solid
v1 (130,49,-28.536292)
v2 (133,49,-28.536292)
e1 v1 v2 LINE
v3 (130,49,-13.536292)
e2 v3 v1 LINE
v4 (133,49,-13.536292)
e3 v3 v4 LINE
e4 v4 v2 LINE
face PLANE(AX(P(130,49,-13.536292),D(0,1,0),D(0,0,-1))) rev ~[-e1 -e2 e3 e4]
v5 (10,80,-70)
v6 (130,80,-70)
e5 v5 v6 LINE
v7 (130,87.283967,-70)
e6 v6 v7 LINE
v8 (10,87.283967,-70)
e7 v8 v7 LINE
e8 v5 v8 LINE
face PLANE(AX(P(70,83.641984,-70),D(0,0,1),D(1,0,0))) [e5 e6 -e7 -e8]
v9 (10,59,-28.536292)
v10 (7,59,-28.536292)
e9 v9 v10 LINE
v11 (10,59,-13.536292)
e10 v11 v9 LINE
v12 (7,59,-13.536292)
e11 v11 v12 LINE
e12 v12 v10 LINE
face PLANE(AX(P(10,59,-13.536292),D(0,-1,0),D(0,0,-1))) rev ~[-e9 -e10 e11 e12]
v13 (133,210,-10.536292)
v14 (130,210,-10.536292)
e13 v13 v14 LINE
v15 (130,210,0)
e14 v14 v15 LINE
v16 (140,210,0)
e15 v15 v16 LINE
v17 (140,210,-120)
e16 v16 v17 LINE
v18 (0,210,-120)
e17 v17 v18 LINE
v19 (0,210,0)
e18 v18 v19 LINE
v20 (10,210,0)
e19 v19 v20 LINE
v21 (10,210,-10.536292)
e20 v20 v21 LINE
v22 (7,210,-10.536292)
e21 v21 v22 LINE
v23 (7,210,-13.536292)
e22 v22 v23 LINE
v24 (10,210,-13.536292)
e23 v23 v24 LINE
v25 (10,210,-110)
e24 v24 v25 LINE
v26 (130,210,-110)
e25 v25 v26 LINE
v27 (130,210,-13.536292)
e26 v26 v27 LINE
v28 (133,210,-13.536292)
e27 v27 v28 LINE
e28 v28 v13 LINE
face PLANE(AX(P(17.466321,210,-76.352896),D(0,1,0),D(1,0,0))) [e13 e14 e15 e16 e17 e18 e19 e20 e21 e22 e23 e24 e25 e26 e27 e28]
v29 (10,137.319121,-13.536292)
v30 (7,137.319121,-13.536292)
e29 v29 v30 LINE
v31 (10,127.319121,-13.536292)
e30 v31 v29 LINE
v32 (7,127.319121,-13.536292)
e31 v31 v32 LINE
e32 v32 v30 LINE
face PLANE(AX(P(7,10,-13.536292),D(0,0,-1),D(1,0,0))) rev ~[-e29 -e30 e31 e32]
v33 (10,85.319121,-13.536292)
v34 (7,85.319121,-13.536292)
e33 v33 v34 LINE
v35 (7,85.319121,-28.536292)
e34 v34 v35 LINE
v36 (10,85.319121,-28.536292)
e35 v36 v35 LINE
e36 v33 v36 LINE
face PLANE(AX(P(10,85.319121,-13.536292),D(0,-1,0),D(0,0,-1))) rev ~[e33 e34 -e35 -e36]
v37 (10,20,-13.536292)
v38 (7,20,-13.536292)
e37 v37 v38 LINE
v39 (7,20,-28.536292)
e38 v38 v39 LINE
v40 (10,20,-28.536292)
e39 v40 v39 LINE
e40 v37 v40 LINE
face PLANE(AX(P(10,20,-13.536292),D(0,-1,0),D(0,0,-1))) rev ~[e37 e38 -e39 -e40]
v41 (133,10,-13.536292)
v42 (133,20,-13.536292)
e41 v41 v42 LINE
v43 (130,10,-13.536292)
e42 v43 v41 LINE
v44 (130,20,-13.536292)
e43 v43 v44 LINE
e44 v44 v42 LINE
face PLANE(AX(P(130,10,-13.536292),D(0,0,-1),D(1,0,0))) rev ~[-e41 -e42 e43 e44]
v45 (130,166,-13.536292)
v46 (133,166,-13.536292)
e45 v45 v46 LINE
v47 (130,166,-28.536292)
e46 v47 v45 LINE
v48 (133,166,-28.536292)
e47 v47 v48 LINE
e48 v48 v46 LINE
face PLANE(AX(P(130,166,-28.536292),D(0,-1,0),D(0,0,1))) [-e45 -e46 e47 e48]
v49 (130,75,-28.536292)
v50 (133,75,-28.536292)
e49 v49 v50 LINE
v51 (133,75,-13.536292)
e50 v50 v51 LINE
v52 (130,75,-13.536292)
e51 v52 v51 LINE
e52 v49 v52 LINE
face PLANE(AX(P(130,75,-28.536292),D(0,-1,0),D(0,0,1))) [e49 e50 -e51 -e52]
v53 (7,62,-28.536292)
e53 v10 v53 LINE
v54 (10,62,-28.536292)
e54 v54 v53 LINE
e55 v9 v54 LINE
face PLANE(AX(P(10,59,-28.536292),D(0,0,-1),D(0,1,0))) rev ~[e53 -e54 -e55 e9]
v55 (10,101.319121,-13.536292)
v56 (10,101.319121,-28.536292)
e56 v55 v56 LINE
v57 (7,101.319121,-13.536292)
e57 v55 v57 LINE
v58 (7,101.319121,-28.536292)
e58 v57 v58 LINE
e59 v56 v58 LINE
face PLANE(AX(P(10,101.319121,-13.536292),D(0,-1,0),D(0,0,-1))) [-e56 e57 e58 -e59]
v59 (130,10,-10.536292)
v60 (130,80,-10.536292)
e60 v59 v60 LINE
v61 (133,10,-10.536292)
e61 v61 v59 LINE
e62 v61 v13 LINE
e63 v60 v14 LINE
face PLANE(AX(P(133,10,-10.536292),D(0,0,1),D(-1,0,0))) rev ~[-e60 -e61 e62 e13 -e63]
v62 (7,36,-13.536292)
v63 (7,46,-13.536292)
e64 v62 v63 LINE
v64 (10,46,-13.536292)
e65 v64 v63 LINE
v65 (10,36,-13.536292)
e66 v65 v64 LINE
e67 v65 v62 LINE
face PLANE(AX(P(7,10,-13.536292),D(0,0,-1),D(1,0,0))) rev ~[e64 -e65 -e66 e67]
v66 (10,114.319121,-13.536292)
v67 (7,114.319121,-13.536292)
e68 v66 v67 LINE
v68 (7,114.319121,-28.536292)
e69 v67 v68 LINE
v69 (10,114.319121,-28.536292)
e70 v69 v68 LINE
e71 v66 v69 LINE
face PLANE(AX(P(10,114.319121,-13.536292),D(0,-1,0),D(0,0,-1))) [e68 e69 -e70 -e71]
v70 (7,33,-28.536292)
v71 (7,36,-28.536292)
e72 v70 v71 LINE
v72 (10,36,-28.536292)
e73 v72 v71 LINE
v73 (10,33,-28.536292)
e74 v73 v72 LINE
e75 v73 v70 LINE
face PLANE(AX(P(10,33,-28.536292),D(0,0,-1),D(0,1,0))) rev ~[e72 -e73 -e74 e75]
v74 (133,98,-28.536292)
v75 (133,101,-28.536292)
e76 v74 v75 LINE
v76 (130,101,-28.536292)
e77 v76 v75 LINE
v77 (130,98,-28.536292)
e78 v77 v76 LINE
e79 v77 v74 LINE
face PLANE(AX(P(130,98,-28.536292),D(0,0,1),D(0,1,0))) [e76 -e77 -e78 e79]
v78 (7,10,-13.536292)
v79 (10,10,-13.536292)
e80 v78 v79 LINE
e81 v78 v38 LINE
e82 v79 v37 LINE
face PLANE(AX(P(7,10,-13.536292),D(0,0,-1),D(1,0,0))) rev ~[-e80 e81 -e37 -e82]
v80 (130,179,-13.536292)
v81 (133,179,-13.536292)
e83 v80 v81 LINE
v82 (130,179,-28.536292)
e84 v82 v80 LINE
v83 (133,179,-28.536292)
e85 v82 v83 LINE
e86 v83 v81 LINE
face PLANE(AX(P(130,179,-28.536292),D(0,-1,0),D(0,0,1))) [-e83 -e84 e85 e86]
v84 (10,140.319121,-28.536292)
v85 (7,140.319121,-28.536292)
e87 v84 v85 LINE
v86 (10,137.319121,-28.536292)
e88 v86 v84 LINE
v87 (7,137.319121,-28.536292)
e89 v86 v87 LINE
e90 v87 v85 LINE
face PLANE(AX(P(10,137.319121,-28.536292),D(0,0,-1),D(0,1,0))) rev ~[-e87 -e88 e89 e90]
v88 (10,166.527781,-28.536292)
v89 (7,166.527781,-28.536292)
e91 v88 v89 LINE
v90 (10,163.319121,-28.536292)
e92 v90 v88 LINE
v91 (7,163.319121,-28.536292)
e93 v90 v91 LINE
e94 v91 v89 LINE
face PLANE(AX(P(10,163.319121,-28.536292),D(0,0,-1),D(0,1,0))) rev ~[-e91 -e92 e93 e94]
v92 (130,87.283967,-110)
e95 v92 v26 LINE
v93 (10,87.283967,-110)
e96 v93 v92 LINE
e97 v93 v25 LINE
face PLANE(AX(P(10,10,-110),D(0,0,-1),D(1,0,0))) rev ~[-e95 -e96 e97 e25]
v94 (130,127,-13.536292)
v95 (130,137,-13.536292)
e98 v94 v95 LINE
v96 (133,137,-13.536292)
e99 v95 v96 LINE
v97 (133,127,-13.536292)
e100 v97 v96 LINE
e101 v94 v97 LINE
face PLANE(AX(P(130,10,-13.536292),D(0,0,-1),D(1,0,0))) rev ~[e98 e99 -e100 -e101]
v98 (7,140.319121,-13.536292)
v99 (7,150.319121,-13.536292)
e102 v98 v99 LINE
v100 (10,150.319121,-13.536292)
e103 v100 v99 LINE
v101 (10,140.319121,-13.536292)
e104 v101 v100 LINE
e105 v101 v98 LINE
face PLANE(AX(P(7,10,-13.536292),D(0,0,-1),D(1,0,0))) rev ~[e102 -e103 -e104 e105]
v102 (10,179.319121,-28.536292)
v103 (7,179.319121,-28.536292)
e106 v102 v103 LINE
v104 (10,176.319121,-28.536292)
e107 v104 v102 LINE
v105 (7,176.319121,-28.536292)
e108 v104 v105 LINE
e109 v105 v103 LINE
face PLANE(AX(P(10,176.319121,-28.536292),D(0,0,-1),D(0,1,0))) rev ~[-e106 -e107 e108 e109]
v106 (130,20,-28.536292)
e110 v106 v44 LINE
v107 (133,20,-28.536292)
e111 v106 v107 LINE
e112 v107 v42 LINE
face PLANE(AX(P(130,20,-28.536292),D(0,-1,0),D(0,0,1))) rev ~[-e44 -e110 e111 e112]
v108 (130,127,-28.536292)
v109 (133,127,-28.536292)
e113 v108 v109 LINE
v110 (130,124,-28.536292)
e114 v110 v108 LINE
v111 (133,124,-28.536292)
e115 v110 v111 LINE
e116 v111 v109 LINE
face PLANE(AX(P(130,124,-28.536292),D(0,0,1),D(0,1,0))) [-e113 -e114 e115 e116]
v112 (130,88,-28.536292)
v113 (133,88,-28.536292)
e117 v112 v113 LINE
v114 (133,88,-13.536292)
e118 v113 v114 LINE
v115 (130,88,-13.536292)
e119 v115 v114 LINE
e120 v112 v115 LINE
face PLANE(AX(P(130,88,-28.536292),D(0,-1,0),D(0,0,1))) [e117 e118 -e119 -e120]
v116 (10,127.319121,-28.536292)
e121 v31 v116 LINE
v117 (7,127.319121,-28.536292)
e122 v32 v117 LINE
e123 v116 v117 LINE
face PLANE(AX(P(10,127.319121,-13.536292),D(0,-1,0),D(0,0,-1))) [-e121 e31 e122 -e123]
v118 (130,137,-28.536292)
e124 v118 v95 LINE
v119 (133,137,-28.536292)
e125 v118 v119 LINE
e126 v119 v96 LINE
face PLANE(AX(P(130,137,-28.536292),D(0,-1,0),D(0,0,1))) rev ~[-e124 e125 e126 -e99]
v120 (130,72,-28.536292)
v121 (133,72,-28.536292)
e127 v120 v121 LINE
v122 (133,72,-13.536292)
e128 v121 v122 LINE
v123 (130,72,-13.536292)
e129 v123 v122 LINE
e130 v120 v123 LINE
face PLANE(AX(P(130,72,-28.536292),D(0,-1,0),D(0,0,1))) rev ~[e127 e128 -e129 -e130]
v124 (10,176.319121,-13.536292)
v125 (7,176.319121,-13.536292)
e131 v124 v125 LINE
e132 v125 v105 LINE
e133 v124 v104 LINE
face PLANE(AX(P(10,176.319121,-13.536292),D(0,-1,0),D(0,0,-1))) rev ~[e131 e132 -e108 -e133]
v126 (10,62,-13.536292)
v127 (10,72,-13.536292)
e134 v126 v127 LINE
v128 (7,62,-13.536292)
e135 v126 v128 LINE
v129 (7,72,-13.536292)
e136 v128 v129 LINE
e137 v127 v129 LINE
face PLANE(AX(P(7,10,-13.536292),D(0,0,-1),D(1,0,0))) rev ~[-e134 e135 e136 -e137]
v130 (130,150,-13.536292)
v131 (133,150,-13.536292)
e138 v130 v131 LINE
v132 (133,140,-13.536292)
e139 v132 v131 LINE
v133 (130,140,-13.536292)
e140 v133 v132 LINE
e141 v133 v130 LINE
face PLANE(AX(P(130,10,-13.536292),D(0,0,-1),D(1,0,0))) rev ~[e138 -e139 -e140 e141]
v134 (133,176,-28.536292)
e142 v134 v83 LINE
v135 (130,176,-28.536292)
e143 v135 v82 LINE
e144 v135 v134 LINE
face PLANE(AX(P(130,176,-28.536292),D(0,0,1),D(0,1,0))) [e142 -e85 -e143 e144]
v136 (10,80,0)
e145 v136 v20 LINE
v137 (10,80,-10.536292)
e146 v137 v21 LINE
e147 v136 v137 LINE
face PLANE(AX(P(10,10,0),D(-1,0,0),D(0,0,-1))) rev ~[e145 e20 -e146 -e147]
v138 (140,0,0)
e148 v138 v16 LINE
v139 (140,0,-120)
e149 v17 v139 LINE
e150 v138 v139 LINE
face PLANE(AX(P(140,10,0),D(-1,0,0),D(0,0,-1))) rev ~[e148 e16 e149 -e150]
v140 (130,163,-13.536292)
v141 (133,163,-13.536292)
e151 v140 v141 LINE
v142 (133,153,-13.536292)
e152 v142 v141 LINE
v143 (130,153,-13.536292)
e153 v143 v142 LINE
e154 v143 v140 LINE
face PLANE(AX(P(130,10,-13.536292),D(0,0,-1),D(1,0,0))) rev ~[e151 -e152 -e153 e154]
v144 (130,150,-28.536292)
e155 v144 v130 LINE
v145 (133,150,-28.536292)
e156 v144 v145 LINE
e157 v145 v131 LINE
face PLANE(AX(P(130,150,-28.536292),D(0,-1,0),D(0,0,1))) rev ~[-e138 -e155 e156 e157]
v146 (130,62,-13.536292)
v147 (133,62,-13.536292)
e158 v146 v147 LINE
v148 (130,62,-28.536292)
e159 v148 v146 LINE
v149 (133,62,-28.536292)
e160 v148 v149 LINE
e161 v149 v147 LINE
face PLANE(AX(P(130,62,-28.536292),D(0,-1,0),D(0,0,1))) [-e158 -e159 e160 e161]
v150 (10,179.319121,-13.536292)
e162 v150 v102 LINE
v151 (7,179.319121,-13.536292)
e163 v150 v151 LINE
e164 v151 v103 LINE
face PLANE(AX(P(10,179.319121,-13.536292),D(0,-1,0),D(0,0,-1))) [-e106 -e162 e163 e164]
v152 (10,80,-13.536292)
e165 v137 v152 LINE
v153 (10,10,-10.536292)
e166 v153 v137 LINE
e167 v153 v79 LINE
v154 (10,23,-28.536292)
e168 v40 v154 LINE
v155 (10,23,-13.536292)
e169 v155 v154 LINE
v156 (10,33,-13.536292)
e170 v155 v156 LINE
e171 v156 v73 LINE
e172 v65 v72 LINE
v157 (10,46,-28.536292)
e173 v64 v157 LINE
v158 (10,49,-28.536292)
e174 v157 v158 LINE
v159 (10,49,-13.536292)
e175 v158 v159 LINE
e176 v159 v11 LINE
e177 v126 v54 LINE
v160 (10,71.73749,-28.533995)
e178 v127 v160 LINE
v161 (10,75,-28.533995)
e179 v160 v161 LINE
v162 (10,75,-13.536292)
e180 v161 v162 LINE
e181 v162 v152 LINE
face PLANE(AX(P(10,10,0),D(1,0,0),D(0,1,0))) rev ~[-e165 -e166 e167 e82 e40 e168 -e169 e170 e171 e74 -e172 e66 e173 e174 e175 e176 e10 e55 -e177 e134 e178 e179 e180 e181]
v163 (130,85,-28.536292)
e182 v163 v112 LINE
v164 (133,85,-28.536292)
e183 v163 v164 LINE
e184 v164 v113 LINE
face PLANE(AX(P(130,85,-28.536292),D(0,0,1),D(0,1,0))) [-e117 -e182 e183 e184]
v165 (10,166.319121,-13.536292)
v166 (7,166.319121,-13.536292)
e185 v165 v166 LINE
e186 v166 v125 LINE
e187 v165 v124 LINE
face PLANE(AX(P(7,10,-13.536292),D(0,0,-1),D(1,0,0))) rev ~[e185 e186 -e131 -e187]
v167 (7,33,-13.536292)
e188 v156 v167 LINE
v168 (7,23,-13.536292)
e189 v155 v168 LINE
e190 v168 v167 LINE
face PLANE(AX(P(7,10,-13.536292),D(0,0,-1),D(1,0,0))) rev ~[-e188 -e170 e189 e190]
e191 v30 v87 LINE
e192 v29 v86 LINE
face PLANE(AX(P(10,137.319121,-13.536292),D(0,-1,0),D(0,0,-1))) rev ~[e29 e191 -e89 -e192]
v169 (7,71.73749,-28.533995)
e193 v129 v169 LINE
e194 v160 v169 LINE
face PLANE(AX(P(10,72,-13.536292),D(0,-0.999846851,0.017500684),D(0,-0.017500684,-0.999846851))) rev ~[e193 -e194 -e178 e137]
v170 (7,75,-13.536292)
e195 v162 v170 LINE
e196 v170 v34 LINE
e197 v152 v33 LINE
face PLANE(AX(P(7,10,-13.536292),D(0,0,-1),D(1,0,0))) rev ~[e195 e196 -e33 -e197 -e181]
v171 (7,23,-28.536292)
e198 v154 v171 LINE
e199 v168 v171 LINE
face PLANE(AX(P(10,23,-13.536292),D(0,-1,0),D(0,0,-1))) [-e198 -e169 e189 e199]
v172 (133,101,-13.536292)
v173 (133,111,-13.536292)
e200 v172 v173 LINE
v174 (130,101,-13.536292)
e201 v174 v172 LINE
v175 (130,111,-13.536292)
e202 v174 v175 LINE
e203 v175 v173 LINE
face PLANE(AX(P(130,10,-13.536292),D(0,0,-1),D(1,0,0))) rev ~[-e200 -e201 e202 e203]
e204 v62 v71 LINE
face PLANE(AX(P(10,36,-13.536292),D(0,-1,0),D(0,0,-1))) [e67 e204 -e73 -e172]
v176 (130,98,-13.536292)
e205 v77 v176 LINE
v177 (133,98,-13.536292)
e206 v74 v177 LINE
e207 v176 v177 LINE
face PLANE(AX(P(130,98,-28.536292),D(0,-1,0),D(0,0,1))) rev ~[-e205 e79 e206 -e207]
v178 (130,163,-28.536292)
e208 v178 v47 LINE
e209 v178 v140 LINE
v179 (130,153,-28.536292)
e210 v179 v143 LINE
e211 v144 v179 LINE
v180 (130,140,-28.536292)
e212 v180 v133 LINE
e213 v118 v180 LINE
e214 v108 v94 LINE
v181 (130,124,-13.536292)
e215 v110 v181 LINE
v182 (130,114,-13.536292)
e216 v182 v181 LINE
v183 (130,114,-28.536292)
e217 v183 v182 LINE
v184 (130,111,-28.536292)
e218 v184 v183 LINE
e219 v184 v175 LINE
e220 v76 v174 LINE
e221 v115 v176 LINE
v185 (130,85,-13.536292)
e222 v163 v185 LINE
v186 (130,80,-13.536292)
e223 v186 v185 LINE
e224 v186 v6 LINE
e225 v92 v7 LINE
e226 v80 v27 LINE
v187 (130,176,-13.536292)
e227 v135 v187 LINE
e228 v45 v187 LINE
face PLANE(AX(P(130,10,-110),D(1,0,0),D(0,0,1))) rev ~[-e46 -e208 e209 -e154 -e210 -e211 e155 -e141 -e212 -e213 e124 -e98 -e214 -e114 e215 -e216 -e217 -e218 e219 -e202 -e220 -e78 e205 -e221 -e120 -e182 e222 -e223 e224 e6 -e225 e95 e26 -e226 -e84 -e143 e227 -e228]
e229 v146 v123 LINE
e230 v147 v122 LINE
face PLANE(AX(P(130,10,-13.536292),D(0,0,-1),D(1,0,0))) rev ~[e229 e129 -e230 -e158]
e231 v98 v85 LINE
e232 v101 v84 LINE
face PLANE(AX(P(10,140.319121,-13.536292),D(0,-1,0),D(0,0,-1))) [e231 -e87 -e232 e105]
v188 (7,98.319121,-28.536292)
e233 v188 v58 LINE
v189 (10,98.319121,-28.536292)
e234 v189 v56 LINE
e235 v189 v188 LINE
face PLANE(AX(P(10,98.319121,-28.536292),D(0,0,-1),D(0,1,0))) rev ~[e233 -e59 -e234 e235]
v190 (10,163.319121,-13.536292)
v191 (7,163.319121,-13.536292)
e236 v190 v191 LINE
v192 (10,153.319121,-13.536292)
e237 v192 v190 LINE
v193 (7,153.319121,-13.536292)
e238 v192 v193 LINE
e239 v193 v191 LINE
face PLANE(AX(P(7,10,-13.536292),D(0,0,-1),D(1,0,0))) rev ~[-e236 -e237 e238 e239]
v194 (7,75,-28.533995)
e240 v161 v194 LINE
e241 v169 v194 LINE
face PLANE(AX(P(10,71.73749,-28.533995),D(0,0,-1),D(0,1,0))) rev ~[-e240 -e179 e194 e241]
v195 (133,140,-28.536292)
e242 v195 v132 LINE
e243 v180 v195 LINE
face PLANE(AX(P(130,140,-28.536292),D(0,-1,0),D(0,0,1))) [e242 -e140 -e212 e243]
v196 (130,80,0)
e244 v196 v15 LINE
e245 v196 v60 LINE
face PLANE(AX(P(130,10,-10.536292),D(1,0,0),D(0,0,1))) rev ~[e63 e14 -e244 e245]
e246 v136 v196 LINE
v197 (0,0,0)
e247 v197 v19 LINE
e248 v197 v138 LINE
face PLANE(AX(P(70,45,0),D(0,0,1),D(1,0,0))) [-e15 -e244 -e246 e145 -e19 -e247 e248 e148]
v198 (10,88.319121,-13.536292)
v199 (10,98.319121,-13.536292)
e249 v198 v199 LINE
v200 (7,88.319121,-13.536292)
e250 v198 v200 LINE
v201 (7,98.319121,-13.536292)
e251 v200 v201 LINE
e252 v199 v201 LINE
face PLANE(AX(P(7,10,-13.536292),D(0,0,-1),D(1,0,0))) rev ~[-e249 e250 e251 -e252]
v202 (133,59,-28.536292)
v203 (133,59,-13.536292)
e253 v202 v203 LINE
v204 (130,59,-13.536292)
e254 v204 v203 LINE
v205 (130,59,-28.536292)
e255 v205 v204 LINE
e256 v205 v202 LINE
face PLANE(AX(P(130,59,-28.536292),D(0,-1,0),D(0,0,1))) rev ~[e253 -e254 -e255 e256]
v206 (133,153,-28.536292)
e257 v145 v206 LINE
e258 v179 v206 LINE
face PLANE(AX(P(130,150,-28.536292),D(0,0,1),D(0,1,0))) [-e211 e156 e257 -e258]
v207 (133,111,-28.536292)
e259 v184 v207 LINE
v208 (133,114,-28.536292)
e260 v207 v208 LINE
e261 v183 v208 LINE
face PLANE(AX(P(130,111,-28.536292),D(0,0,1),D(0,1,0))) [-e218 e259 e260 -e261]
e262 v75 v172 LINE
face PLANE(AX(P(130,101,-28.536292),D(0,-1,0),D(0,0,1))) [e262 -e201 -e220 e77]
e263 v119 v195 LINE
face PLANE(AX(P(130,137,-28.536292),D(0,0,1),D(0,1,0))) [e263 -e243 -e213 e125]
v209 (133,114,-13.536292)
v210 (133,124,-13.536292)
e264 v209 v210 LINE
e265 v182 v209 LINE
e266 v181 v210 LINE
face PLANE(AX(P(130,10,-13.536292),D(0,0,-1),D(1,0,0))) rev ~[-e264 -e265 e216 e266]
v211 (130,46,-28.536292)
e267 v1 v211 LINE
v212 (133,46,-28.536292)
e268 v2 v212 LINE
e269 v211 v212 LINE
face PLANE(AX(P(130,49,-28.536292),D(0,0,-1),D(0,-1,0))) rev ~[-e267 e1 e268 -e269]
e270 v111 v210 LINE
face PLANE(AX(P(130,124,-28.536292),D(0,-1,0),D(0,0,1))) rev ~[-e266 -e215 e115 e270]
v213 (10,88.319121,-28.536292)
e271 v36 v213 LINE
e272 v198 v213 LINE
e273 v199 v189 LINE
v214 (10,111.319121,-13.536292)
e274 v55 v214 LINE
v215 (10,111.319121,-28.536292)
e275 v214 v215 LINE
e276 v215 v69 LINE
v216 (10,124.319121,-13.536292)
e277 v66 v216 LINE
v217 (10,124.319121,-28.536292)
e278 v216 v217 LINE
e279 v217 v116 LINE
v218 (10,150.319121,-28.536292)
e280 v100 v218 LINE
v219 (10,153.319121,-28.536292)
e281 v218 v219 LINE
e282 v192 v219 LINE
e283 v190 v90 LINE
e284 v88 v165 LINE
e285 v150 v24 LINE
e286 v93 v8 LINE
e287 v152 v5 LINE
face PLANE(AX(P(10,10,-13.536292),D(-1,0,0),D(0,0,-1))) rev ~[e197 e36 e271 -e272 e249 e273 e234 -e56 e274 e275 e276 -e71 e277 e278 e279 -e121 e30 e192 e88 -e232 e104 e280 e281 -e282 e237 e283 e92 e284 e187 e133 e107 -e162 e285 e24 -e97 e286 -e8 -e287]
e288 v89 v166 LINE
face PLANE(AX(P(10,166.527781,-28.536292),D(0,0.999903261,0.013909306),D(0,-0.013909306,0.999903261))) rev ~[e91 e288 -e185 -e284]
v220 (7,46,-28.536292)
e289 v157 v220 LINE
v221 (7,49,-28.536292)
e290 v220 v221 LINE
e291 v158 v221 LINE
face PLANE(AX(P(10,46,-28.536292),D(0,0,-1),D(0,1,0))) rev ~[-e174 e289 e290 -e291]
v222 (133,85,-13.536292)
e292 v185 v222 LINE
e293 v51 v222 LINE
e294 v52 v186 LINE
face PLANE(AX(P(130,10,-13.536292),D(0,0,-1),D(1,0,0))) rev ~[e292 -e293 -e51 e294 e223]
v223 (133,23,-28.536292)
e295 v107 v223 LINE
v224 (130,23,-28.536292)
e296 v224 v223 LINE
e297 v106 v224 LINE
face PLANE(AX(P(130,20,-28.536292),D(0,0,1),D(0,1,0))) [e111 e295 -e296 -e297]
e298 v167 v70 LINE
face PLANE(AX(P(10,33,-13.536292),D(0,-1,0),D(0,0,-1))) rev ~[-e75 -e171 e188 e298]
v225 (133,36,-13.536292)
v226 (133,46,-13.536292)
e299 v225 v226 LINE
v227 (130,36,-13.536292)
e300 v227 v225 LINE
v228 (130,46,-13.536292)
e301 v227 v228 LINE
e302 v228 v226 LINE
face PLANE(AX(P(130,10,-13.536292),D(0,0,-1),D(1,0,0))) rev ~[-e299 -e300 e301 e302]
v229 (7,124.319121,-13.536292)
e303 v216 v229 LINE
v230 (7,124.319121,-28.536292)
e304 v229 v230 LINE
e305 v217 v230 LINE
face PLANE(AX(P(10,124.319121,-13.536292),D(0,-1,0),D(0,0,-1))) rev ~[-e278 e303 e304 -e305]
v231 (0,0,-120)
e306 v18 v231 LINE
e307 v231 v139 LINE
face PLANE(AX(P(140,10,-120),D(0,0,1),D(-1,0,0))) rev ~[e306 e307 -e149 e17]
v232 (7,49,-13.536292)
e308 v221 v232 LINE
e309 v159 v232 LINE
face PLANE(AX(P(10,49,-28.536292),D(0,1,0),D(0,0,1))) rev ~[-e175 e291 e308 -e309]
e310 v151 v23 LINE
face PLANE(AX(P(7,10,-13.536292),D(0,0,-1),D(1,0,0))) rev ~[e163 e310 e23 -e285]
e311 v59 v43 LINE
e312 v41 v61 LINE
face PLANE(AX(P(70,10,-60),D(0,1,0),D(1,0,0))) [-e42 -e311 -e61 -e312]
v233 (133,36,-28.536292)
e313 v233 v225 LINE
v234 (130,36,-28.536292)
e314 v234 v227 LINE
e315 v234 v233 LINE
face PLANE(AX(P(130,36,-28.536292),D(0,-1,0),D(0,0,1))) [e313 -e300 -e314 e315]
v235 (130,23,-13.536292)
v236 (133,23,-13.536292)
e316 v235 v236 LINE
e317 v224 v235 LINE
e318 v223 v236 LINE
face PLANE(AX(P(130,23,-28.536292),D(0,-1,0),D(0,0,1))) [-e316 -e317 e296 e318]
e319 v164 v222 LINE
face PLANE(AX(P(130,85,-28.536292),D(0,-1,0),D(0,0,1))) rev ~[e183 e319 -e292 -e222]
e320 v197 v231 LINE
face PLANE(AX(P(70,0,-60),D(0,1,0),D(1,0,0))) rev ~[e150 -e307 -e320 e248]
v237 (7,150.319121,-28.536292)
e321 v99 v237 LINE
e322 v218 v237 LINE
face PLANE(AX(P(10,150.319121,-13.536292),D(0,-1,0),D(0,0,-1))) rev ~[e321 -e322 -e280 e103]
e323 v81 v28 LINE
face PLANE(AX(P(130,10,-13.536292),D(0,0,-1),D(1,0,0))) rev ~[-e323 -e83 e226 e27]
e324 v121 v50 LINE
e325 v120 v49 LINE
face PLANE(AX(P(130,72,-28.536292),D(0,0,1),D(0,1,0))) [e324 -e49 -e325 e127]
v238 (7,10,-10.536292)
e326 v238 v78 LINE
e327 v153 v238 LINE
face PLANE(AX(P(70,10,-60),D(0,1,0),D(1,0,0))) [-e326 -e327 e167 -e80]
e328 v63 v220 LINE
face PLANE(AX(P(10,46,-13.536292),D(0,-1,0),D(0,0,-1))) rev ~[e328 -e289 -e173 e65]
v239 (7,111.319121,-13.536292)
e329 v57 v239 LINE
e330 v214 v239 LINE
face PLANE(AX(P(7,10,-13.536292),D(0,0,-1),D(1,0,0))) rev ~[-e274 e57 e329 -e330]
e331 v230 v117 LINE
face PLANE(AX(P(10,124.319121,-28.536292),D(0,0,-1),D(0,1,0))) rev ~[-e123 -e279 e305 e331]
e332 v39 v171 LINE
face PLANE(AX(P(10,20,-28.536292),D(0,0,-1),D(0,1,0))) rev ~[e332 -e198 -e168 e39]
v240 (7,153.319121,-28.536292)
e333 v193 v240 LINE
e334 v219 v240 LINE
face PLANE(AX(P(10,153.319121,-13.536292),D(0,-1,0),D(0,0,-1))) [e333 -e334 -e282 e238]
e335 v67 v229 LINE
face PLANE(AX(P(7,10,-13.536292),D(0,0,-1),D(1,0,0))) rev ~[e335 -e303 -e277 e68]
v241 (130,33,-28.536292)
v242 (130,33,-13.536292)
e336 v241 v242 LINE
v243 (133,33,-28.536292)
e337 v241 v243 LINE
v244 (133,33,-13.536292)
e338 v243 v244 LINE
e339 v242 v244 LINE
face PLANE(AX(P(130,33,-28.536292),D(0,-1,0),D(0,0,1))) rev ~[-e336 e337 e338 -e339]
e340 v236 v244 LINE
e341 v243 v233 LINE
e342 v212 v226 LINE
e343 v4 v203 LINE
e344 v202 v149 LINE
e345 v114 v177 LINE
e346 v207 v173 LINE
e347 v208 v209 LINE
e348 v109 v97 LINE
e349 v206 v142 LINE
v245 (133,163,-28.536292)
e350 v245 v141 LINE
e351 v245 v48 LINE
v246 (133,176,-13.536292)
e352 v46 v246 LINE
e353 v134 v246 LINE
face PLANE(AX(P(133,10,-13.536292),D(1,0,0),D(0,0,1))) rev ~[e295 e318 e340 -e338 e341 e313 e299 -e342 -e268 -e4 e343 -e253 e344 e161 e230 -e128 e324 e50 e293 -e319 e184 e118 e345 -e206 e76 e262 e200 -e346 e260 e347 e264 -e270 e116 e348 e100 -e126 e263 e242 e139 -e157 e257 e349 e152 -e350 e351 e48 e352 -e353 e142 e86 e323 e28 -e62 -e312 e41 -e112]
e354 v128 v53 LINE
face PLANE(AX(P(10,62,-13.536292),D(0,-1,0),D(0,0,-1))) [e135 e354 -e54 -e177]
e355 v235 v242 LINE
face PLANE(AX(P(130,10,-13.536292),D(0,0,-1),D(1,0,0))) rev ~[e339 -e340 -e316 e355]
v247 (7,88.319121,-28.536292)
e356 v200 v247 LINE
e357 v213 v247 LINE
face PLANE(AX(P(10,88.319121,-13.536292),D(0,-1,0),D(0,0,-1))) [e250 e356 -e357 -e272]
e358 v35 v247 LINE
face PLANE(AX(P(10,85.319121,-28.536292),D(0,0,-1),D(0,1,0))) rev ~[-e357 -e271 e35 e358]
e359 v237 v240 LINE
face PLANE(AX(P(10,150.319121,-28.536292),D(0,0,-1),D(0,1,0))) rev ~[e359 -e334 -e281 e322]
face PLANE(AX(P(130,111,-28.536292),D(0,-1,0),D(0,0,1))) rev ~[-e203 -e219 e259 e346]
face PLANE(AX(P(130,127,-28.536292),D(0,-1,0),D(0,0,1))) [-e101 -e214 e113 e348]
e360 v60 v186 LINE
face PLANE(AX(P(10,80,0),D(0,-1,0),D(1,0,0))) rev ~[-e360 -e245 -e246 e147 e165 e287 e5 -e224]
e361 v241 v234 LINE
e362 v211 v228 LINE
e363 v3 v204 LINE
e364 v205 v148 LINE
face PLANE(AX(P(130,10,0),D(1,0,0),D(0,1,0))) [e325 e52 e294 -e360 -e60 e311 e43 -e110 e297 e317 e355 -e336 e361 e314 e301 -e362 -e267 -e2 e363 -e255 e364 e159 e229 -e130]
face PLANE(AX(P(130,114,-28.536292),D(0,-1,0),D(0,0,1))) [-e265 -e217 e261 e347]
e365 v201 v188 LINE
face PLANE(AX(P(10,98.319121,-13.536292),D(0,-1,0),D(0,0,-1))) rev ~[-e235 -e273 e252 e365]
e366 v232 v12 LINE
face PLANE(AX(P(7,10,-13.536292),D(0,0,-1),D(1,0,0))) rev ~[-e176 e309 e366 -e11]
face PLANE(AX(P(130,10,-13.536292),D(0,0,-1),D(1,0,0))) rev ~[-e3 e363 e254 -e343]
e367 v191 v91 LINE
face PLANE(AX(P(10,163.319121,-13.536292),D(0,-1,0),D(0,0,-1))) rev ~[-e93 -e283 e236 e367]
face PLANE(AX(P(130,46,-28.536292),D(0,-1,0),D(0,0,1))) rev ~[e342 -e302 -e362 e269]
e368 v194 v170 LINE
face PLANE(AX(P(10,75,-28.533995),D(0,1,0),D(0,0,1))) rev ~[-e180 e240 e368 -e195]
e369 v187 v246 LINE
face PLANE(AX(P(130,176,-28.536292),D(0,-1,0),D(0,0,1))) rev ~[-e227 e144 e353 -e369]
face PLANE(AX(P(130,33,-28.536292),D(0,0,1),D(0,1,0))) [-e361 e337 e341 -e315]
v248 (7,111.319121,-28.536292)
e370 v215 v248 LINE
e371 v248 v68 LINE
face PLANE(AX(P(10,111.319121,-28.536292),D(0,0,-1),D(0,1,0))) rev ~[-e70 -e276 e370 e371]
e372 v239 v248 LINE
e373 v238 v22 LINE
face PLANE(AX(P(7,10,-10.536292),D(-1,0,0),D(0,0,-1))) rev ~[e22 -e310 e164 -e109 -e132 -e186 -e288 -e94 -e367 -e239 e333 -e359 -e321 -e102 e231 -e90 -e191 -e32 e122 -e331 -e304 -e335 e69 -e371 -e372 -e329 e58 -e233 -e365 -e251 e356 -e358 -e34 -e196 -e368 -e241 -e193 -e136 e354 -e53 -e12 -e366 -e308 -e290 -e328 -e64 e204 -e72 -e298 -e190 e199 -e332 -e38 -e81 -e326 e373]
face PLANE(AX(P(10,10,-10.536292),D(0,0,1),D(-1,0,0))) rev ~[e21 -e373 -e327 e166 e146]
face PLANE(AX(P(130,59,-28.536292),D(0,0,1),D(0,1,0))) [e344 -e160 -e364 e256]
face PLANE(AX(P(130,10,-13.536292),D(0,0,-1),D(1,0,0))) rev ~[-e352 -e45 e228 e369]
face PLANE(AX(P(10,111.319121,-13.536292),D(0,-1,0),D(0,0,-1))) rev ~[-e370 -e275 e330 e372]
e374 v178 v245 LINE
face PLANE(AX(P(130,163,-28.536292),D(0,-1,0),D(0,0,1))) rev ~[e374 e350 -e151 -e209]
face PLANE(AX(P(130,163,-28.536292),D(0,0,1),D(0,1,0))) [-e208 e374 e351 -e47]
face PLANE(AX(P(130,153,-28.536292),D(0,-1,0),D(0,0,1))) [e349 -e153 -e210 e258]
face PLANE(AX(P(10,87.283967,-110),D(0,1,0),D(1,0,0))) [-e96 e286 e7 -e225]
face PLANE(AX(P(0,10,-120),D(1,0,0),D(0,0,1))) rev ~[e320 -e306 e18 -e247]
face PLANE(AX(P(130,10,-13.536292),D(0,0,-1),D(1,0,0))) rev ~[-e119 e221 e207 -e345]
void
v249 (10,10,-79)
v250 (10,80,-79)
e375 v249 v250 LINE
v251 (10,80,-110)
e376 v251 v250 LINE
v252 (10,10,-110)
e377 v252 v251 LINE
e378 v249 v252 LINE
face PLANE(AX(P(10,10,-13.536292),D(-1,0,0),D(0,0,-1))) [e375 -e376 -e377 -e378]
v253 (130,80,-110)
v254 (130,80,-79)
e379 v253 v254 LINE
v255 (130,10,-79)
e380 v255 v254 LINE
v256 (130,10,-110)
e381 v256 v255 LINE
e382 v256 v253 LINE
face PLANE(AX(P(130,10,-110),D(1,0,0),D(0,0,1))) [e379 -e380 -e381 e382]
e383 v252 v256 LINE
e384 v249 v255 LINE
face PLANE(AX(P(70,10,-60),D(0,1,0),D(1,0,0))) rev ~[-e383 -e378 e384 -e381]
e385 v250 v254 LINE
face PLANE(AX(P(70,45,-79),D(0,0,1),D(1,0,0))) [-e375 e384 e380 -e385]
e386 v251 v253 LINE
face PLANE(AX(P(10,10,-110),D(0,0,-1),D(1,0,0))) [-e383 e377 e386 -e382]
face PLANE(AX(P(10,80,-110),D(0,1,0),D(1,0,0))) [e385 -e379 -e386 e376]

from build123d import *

# Parameters (mm, degrees)
SKETCH1_W           = 140
SKETCH1_H           = 120
BOSS_EXTRUDE1_DEPTH = 10
BOSS_EXTRUDE2_DEPTH = 200
SKETCH3_W           = 15
SKETCH3_H           = 3
CUT_EXTRUDE1_DEPTH  = 3
SKETCH4_W           = 15
SKETCH4_H           = 3
CUT_EXTRUDE2_DEPTH  = 3
SKETCH5_W           = 120
SKETCH5_H           = 7.283967232
BOSS_EXTRUDE3_DEPTH = 40
SKETCH6_W           = 120
SKETCH6_H           = 70
BOSS_EXTRUDE4_DEPTH = 79


with BuildPart() as part:
    # Sketch1 → Boss-Extrude1 (new body)
    with BuildSketch(Plane(origin=(0, 0, 0), x_dir=(1, 0, 0), z_dir=(0, 1, 0))):
        with Locations((70, 60)):
            Rectangle(SKETCH1_W, SKETCH1_H)
    extrude(amount=BOSS_EXTRUDE1_DEPTH)

    # Sketch2 → Boss-Extrude2 (add)
    with BuildSketch(Plane(origin=(0, 10, 0), x_dir=(1, 0, 0), z_dir=(0, 1, 0))):
        Polygon((0, 120), (0, 0), (10, 0), (10, 10.536291888), (7, 10.536291888), (7, 13.536291888), (10, 13.536291888), (10, 110), (70, 110), (70, 120), align=None)
        Polygon((130, 10.536291888), (130, 0), (140, 0), (140, 120), (70, 120), (70, 110), (130, 110), (130, 13.536291888), (133, 13.536291888), (133, 10.536291888), align=None)
    extrude(amount=BOSS_EXTRUDE2_DEPTH)

    # Sketch3 → Cut-Extrude1 (cut)
    with BuildSketch(Plane(origin=(10, 0, 0), x_dir=(0, 0, -1), z_dir=(1, 0, 0))):
        with Locations((21.036291888, 177.819120876)):
            Rectangle(SKETCH3_W, SKETCH3_H)
        Polygon((13.536291888, 166.319120876), (13.536291888, 163.319120876), (28.536291888, 163.319120876), (28.536291888, 166.527780645), align=None)
        with Locations((21.036291888, 151.819120876)):
            Rectangle(SKETCH3_W, SKETCH3_H)
        with Locations((21.036291888, 138.819120876)):
            Rectangle(SKETCH3_W, SKETCH3_H)
        with Locations((21.036291888, 125.819120876)):
            Rectangle(SKETCH3_W, SKETCH3_H)
        with Locations((21.036291888, 112.819120876)):
            Rectangle(SKETCH3_W, SKETCH3_H)
        with Locations((21.036291888, 99.819120876)):
            Rectangle(SKETCH3_W, SKETCH3_H)
        with Locations((21.036291888, 86.819120876)):
            Rectangle(SKETCH3_W, SKETCH3_H)
        Polygon((13.536291888, 75), (13.536291888, 72), (28.533994657, 71.737489743), (28.533994657, 75), align=None)
        with Locations((21.036291888, 60.5)):
            Rectangle(SKETCH3_W, SKETCH3_H)
        Polygon((13.536291888, 49), (13.536291888, 46), (28.536291888, 46), (28.536291888, 49), (13.757115753, 49), align=None)
        with Locations((21.036291888, 34.5)):
            Rectangle(SKETCH3_W, SKETCH3_H)
        with Locations((21.036291888, 21.5)):
            Rectangle(SKETCH3_W, SKETCH3_H)
    extrude(amount=-CUT_EXTRUDE1_DEPTH, mode=Mode.SUBTRACT)

    # Sketch4 → Cut-Extrude2 (cut)
    with BuildSketch(Plane.ZY.offset(-130)):
        with Locations((-21.036291888, 21.5)):
            Rectangle(SKETCH4_W, SKETCH4_H)
        with Locations((-21.036291888, 34.5)):
            Rectangle(SKETCH4_W, SKETCH4_H)
        Polygon((-18.143826221, 46), (-13.536291888, 46), (-13.536291888, 49), (-28.536291888, 49), (-28.536291888, 46), align=None)
        with Locations((-21.036291888, 60.5)):
            Rectangle(SKETCH4_W, SKETCH4_H)
        with Locations((-21.036291888, 73.5)):
            Rectangle(SKETCH4_W, SKETCH4_H)
        with Locations((-21.036291888, 86.5)):
            Rectangle(SKETCH4_W, SKETCH4_H)
        with Locations((-21.036291888, 99.5)):
            Rectangle(SKETCH4_W, SKETCH4_H)
        with Locations((-21.036291888, 112.5)):
            Rectangle(SKETCH4_W, SKETCH4_H)
        with Locations((-21.036291888, 125.5)):
            Rectangle(SKETCH4_W, SKETCH4_H)
        with Locations((-21.036291888, 138.5)):
            Rectangle(SKETCH4_W, SKETCH4_H)
        with Locations((-21.036291888, 151.5)):
            Rectangle(SKETCH4_W, SKETCH4_H)
        with Locations((-21.036291888, 164.5)):
            Rectangle(SKETCH4_W, SKETCH4_H)
        with Locations((-21.036291888, 177.5)):
            Rectangle(SKETCH4_W, SKETCH4_H)
    extrude(amount=-CUT_EXTRUDE2_DEPTH, mode=Mode.SUBTRACT)

    # Sketch5 → Boss-Extrude3 (add)
    with BuildSketch(Plane.XY.offset(-110)):
        with Locations((70, 83.641983616)):
            Rectangle(SKETCH5_W, SKETCH5_H)
    extrude(amount=BOSS_EXTRUDE3_DEPTH)

    # Sketch6 → Boss-Extrude4 (add)
    with BuildSketch(Plane.XY):
        with Locations((70, 45)):
            Rectangle(SKETCH6_W, SKETCH6_H)
    extrude(amount=-BOSS_EXTRUDE4_DEPTH)


solid = part.part
